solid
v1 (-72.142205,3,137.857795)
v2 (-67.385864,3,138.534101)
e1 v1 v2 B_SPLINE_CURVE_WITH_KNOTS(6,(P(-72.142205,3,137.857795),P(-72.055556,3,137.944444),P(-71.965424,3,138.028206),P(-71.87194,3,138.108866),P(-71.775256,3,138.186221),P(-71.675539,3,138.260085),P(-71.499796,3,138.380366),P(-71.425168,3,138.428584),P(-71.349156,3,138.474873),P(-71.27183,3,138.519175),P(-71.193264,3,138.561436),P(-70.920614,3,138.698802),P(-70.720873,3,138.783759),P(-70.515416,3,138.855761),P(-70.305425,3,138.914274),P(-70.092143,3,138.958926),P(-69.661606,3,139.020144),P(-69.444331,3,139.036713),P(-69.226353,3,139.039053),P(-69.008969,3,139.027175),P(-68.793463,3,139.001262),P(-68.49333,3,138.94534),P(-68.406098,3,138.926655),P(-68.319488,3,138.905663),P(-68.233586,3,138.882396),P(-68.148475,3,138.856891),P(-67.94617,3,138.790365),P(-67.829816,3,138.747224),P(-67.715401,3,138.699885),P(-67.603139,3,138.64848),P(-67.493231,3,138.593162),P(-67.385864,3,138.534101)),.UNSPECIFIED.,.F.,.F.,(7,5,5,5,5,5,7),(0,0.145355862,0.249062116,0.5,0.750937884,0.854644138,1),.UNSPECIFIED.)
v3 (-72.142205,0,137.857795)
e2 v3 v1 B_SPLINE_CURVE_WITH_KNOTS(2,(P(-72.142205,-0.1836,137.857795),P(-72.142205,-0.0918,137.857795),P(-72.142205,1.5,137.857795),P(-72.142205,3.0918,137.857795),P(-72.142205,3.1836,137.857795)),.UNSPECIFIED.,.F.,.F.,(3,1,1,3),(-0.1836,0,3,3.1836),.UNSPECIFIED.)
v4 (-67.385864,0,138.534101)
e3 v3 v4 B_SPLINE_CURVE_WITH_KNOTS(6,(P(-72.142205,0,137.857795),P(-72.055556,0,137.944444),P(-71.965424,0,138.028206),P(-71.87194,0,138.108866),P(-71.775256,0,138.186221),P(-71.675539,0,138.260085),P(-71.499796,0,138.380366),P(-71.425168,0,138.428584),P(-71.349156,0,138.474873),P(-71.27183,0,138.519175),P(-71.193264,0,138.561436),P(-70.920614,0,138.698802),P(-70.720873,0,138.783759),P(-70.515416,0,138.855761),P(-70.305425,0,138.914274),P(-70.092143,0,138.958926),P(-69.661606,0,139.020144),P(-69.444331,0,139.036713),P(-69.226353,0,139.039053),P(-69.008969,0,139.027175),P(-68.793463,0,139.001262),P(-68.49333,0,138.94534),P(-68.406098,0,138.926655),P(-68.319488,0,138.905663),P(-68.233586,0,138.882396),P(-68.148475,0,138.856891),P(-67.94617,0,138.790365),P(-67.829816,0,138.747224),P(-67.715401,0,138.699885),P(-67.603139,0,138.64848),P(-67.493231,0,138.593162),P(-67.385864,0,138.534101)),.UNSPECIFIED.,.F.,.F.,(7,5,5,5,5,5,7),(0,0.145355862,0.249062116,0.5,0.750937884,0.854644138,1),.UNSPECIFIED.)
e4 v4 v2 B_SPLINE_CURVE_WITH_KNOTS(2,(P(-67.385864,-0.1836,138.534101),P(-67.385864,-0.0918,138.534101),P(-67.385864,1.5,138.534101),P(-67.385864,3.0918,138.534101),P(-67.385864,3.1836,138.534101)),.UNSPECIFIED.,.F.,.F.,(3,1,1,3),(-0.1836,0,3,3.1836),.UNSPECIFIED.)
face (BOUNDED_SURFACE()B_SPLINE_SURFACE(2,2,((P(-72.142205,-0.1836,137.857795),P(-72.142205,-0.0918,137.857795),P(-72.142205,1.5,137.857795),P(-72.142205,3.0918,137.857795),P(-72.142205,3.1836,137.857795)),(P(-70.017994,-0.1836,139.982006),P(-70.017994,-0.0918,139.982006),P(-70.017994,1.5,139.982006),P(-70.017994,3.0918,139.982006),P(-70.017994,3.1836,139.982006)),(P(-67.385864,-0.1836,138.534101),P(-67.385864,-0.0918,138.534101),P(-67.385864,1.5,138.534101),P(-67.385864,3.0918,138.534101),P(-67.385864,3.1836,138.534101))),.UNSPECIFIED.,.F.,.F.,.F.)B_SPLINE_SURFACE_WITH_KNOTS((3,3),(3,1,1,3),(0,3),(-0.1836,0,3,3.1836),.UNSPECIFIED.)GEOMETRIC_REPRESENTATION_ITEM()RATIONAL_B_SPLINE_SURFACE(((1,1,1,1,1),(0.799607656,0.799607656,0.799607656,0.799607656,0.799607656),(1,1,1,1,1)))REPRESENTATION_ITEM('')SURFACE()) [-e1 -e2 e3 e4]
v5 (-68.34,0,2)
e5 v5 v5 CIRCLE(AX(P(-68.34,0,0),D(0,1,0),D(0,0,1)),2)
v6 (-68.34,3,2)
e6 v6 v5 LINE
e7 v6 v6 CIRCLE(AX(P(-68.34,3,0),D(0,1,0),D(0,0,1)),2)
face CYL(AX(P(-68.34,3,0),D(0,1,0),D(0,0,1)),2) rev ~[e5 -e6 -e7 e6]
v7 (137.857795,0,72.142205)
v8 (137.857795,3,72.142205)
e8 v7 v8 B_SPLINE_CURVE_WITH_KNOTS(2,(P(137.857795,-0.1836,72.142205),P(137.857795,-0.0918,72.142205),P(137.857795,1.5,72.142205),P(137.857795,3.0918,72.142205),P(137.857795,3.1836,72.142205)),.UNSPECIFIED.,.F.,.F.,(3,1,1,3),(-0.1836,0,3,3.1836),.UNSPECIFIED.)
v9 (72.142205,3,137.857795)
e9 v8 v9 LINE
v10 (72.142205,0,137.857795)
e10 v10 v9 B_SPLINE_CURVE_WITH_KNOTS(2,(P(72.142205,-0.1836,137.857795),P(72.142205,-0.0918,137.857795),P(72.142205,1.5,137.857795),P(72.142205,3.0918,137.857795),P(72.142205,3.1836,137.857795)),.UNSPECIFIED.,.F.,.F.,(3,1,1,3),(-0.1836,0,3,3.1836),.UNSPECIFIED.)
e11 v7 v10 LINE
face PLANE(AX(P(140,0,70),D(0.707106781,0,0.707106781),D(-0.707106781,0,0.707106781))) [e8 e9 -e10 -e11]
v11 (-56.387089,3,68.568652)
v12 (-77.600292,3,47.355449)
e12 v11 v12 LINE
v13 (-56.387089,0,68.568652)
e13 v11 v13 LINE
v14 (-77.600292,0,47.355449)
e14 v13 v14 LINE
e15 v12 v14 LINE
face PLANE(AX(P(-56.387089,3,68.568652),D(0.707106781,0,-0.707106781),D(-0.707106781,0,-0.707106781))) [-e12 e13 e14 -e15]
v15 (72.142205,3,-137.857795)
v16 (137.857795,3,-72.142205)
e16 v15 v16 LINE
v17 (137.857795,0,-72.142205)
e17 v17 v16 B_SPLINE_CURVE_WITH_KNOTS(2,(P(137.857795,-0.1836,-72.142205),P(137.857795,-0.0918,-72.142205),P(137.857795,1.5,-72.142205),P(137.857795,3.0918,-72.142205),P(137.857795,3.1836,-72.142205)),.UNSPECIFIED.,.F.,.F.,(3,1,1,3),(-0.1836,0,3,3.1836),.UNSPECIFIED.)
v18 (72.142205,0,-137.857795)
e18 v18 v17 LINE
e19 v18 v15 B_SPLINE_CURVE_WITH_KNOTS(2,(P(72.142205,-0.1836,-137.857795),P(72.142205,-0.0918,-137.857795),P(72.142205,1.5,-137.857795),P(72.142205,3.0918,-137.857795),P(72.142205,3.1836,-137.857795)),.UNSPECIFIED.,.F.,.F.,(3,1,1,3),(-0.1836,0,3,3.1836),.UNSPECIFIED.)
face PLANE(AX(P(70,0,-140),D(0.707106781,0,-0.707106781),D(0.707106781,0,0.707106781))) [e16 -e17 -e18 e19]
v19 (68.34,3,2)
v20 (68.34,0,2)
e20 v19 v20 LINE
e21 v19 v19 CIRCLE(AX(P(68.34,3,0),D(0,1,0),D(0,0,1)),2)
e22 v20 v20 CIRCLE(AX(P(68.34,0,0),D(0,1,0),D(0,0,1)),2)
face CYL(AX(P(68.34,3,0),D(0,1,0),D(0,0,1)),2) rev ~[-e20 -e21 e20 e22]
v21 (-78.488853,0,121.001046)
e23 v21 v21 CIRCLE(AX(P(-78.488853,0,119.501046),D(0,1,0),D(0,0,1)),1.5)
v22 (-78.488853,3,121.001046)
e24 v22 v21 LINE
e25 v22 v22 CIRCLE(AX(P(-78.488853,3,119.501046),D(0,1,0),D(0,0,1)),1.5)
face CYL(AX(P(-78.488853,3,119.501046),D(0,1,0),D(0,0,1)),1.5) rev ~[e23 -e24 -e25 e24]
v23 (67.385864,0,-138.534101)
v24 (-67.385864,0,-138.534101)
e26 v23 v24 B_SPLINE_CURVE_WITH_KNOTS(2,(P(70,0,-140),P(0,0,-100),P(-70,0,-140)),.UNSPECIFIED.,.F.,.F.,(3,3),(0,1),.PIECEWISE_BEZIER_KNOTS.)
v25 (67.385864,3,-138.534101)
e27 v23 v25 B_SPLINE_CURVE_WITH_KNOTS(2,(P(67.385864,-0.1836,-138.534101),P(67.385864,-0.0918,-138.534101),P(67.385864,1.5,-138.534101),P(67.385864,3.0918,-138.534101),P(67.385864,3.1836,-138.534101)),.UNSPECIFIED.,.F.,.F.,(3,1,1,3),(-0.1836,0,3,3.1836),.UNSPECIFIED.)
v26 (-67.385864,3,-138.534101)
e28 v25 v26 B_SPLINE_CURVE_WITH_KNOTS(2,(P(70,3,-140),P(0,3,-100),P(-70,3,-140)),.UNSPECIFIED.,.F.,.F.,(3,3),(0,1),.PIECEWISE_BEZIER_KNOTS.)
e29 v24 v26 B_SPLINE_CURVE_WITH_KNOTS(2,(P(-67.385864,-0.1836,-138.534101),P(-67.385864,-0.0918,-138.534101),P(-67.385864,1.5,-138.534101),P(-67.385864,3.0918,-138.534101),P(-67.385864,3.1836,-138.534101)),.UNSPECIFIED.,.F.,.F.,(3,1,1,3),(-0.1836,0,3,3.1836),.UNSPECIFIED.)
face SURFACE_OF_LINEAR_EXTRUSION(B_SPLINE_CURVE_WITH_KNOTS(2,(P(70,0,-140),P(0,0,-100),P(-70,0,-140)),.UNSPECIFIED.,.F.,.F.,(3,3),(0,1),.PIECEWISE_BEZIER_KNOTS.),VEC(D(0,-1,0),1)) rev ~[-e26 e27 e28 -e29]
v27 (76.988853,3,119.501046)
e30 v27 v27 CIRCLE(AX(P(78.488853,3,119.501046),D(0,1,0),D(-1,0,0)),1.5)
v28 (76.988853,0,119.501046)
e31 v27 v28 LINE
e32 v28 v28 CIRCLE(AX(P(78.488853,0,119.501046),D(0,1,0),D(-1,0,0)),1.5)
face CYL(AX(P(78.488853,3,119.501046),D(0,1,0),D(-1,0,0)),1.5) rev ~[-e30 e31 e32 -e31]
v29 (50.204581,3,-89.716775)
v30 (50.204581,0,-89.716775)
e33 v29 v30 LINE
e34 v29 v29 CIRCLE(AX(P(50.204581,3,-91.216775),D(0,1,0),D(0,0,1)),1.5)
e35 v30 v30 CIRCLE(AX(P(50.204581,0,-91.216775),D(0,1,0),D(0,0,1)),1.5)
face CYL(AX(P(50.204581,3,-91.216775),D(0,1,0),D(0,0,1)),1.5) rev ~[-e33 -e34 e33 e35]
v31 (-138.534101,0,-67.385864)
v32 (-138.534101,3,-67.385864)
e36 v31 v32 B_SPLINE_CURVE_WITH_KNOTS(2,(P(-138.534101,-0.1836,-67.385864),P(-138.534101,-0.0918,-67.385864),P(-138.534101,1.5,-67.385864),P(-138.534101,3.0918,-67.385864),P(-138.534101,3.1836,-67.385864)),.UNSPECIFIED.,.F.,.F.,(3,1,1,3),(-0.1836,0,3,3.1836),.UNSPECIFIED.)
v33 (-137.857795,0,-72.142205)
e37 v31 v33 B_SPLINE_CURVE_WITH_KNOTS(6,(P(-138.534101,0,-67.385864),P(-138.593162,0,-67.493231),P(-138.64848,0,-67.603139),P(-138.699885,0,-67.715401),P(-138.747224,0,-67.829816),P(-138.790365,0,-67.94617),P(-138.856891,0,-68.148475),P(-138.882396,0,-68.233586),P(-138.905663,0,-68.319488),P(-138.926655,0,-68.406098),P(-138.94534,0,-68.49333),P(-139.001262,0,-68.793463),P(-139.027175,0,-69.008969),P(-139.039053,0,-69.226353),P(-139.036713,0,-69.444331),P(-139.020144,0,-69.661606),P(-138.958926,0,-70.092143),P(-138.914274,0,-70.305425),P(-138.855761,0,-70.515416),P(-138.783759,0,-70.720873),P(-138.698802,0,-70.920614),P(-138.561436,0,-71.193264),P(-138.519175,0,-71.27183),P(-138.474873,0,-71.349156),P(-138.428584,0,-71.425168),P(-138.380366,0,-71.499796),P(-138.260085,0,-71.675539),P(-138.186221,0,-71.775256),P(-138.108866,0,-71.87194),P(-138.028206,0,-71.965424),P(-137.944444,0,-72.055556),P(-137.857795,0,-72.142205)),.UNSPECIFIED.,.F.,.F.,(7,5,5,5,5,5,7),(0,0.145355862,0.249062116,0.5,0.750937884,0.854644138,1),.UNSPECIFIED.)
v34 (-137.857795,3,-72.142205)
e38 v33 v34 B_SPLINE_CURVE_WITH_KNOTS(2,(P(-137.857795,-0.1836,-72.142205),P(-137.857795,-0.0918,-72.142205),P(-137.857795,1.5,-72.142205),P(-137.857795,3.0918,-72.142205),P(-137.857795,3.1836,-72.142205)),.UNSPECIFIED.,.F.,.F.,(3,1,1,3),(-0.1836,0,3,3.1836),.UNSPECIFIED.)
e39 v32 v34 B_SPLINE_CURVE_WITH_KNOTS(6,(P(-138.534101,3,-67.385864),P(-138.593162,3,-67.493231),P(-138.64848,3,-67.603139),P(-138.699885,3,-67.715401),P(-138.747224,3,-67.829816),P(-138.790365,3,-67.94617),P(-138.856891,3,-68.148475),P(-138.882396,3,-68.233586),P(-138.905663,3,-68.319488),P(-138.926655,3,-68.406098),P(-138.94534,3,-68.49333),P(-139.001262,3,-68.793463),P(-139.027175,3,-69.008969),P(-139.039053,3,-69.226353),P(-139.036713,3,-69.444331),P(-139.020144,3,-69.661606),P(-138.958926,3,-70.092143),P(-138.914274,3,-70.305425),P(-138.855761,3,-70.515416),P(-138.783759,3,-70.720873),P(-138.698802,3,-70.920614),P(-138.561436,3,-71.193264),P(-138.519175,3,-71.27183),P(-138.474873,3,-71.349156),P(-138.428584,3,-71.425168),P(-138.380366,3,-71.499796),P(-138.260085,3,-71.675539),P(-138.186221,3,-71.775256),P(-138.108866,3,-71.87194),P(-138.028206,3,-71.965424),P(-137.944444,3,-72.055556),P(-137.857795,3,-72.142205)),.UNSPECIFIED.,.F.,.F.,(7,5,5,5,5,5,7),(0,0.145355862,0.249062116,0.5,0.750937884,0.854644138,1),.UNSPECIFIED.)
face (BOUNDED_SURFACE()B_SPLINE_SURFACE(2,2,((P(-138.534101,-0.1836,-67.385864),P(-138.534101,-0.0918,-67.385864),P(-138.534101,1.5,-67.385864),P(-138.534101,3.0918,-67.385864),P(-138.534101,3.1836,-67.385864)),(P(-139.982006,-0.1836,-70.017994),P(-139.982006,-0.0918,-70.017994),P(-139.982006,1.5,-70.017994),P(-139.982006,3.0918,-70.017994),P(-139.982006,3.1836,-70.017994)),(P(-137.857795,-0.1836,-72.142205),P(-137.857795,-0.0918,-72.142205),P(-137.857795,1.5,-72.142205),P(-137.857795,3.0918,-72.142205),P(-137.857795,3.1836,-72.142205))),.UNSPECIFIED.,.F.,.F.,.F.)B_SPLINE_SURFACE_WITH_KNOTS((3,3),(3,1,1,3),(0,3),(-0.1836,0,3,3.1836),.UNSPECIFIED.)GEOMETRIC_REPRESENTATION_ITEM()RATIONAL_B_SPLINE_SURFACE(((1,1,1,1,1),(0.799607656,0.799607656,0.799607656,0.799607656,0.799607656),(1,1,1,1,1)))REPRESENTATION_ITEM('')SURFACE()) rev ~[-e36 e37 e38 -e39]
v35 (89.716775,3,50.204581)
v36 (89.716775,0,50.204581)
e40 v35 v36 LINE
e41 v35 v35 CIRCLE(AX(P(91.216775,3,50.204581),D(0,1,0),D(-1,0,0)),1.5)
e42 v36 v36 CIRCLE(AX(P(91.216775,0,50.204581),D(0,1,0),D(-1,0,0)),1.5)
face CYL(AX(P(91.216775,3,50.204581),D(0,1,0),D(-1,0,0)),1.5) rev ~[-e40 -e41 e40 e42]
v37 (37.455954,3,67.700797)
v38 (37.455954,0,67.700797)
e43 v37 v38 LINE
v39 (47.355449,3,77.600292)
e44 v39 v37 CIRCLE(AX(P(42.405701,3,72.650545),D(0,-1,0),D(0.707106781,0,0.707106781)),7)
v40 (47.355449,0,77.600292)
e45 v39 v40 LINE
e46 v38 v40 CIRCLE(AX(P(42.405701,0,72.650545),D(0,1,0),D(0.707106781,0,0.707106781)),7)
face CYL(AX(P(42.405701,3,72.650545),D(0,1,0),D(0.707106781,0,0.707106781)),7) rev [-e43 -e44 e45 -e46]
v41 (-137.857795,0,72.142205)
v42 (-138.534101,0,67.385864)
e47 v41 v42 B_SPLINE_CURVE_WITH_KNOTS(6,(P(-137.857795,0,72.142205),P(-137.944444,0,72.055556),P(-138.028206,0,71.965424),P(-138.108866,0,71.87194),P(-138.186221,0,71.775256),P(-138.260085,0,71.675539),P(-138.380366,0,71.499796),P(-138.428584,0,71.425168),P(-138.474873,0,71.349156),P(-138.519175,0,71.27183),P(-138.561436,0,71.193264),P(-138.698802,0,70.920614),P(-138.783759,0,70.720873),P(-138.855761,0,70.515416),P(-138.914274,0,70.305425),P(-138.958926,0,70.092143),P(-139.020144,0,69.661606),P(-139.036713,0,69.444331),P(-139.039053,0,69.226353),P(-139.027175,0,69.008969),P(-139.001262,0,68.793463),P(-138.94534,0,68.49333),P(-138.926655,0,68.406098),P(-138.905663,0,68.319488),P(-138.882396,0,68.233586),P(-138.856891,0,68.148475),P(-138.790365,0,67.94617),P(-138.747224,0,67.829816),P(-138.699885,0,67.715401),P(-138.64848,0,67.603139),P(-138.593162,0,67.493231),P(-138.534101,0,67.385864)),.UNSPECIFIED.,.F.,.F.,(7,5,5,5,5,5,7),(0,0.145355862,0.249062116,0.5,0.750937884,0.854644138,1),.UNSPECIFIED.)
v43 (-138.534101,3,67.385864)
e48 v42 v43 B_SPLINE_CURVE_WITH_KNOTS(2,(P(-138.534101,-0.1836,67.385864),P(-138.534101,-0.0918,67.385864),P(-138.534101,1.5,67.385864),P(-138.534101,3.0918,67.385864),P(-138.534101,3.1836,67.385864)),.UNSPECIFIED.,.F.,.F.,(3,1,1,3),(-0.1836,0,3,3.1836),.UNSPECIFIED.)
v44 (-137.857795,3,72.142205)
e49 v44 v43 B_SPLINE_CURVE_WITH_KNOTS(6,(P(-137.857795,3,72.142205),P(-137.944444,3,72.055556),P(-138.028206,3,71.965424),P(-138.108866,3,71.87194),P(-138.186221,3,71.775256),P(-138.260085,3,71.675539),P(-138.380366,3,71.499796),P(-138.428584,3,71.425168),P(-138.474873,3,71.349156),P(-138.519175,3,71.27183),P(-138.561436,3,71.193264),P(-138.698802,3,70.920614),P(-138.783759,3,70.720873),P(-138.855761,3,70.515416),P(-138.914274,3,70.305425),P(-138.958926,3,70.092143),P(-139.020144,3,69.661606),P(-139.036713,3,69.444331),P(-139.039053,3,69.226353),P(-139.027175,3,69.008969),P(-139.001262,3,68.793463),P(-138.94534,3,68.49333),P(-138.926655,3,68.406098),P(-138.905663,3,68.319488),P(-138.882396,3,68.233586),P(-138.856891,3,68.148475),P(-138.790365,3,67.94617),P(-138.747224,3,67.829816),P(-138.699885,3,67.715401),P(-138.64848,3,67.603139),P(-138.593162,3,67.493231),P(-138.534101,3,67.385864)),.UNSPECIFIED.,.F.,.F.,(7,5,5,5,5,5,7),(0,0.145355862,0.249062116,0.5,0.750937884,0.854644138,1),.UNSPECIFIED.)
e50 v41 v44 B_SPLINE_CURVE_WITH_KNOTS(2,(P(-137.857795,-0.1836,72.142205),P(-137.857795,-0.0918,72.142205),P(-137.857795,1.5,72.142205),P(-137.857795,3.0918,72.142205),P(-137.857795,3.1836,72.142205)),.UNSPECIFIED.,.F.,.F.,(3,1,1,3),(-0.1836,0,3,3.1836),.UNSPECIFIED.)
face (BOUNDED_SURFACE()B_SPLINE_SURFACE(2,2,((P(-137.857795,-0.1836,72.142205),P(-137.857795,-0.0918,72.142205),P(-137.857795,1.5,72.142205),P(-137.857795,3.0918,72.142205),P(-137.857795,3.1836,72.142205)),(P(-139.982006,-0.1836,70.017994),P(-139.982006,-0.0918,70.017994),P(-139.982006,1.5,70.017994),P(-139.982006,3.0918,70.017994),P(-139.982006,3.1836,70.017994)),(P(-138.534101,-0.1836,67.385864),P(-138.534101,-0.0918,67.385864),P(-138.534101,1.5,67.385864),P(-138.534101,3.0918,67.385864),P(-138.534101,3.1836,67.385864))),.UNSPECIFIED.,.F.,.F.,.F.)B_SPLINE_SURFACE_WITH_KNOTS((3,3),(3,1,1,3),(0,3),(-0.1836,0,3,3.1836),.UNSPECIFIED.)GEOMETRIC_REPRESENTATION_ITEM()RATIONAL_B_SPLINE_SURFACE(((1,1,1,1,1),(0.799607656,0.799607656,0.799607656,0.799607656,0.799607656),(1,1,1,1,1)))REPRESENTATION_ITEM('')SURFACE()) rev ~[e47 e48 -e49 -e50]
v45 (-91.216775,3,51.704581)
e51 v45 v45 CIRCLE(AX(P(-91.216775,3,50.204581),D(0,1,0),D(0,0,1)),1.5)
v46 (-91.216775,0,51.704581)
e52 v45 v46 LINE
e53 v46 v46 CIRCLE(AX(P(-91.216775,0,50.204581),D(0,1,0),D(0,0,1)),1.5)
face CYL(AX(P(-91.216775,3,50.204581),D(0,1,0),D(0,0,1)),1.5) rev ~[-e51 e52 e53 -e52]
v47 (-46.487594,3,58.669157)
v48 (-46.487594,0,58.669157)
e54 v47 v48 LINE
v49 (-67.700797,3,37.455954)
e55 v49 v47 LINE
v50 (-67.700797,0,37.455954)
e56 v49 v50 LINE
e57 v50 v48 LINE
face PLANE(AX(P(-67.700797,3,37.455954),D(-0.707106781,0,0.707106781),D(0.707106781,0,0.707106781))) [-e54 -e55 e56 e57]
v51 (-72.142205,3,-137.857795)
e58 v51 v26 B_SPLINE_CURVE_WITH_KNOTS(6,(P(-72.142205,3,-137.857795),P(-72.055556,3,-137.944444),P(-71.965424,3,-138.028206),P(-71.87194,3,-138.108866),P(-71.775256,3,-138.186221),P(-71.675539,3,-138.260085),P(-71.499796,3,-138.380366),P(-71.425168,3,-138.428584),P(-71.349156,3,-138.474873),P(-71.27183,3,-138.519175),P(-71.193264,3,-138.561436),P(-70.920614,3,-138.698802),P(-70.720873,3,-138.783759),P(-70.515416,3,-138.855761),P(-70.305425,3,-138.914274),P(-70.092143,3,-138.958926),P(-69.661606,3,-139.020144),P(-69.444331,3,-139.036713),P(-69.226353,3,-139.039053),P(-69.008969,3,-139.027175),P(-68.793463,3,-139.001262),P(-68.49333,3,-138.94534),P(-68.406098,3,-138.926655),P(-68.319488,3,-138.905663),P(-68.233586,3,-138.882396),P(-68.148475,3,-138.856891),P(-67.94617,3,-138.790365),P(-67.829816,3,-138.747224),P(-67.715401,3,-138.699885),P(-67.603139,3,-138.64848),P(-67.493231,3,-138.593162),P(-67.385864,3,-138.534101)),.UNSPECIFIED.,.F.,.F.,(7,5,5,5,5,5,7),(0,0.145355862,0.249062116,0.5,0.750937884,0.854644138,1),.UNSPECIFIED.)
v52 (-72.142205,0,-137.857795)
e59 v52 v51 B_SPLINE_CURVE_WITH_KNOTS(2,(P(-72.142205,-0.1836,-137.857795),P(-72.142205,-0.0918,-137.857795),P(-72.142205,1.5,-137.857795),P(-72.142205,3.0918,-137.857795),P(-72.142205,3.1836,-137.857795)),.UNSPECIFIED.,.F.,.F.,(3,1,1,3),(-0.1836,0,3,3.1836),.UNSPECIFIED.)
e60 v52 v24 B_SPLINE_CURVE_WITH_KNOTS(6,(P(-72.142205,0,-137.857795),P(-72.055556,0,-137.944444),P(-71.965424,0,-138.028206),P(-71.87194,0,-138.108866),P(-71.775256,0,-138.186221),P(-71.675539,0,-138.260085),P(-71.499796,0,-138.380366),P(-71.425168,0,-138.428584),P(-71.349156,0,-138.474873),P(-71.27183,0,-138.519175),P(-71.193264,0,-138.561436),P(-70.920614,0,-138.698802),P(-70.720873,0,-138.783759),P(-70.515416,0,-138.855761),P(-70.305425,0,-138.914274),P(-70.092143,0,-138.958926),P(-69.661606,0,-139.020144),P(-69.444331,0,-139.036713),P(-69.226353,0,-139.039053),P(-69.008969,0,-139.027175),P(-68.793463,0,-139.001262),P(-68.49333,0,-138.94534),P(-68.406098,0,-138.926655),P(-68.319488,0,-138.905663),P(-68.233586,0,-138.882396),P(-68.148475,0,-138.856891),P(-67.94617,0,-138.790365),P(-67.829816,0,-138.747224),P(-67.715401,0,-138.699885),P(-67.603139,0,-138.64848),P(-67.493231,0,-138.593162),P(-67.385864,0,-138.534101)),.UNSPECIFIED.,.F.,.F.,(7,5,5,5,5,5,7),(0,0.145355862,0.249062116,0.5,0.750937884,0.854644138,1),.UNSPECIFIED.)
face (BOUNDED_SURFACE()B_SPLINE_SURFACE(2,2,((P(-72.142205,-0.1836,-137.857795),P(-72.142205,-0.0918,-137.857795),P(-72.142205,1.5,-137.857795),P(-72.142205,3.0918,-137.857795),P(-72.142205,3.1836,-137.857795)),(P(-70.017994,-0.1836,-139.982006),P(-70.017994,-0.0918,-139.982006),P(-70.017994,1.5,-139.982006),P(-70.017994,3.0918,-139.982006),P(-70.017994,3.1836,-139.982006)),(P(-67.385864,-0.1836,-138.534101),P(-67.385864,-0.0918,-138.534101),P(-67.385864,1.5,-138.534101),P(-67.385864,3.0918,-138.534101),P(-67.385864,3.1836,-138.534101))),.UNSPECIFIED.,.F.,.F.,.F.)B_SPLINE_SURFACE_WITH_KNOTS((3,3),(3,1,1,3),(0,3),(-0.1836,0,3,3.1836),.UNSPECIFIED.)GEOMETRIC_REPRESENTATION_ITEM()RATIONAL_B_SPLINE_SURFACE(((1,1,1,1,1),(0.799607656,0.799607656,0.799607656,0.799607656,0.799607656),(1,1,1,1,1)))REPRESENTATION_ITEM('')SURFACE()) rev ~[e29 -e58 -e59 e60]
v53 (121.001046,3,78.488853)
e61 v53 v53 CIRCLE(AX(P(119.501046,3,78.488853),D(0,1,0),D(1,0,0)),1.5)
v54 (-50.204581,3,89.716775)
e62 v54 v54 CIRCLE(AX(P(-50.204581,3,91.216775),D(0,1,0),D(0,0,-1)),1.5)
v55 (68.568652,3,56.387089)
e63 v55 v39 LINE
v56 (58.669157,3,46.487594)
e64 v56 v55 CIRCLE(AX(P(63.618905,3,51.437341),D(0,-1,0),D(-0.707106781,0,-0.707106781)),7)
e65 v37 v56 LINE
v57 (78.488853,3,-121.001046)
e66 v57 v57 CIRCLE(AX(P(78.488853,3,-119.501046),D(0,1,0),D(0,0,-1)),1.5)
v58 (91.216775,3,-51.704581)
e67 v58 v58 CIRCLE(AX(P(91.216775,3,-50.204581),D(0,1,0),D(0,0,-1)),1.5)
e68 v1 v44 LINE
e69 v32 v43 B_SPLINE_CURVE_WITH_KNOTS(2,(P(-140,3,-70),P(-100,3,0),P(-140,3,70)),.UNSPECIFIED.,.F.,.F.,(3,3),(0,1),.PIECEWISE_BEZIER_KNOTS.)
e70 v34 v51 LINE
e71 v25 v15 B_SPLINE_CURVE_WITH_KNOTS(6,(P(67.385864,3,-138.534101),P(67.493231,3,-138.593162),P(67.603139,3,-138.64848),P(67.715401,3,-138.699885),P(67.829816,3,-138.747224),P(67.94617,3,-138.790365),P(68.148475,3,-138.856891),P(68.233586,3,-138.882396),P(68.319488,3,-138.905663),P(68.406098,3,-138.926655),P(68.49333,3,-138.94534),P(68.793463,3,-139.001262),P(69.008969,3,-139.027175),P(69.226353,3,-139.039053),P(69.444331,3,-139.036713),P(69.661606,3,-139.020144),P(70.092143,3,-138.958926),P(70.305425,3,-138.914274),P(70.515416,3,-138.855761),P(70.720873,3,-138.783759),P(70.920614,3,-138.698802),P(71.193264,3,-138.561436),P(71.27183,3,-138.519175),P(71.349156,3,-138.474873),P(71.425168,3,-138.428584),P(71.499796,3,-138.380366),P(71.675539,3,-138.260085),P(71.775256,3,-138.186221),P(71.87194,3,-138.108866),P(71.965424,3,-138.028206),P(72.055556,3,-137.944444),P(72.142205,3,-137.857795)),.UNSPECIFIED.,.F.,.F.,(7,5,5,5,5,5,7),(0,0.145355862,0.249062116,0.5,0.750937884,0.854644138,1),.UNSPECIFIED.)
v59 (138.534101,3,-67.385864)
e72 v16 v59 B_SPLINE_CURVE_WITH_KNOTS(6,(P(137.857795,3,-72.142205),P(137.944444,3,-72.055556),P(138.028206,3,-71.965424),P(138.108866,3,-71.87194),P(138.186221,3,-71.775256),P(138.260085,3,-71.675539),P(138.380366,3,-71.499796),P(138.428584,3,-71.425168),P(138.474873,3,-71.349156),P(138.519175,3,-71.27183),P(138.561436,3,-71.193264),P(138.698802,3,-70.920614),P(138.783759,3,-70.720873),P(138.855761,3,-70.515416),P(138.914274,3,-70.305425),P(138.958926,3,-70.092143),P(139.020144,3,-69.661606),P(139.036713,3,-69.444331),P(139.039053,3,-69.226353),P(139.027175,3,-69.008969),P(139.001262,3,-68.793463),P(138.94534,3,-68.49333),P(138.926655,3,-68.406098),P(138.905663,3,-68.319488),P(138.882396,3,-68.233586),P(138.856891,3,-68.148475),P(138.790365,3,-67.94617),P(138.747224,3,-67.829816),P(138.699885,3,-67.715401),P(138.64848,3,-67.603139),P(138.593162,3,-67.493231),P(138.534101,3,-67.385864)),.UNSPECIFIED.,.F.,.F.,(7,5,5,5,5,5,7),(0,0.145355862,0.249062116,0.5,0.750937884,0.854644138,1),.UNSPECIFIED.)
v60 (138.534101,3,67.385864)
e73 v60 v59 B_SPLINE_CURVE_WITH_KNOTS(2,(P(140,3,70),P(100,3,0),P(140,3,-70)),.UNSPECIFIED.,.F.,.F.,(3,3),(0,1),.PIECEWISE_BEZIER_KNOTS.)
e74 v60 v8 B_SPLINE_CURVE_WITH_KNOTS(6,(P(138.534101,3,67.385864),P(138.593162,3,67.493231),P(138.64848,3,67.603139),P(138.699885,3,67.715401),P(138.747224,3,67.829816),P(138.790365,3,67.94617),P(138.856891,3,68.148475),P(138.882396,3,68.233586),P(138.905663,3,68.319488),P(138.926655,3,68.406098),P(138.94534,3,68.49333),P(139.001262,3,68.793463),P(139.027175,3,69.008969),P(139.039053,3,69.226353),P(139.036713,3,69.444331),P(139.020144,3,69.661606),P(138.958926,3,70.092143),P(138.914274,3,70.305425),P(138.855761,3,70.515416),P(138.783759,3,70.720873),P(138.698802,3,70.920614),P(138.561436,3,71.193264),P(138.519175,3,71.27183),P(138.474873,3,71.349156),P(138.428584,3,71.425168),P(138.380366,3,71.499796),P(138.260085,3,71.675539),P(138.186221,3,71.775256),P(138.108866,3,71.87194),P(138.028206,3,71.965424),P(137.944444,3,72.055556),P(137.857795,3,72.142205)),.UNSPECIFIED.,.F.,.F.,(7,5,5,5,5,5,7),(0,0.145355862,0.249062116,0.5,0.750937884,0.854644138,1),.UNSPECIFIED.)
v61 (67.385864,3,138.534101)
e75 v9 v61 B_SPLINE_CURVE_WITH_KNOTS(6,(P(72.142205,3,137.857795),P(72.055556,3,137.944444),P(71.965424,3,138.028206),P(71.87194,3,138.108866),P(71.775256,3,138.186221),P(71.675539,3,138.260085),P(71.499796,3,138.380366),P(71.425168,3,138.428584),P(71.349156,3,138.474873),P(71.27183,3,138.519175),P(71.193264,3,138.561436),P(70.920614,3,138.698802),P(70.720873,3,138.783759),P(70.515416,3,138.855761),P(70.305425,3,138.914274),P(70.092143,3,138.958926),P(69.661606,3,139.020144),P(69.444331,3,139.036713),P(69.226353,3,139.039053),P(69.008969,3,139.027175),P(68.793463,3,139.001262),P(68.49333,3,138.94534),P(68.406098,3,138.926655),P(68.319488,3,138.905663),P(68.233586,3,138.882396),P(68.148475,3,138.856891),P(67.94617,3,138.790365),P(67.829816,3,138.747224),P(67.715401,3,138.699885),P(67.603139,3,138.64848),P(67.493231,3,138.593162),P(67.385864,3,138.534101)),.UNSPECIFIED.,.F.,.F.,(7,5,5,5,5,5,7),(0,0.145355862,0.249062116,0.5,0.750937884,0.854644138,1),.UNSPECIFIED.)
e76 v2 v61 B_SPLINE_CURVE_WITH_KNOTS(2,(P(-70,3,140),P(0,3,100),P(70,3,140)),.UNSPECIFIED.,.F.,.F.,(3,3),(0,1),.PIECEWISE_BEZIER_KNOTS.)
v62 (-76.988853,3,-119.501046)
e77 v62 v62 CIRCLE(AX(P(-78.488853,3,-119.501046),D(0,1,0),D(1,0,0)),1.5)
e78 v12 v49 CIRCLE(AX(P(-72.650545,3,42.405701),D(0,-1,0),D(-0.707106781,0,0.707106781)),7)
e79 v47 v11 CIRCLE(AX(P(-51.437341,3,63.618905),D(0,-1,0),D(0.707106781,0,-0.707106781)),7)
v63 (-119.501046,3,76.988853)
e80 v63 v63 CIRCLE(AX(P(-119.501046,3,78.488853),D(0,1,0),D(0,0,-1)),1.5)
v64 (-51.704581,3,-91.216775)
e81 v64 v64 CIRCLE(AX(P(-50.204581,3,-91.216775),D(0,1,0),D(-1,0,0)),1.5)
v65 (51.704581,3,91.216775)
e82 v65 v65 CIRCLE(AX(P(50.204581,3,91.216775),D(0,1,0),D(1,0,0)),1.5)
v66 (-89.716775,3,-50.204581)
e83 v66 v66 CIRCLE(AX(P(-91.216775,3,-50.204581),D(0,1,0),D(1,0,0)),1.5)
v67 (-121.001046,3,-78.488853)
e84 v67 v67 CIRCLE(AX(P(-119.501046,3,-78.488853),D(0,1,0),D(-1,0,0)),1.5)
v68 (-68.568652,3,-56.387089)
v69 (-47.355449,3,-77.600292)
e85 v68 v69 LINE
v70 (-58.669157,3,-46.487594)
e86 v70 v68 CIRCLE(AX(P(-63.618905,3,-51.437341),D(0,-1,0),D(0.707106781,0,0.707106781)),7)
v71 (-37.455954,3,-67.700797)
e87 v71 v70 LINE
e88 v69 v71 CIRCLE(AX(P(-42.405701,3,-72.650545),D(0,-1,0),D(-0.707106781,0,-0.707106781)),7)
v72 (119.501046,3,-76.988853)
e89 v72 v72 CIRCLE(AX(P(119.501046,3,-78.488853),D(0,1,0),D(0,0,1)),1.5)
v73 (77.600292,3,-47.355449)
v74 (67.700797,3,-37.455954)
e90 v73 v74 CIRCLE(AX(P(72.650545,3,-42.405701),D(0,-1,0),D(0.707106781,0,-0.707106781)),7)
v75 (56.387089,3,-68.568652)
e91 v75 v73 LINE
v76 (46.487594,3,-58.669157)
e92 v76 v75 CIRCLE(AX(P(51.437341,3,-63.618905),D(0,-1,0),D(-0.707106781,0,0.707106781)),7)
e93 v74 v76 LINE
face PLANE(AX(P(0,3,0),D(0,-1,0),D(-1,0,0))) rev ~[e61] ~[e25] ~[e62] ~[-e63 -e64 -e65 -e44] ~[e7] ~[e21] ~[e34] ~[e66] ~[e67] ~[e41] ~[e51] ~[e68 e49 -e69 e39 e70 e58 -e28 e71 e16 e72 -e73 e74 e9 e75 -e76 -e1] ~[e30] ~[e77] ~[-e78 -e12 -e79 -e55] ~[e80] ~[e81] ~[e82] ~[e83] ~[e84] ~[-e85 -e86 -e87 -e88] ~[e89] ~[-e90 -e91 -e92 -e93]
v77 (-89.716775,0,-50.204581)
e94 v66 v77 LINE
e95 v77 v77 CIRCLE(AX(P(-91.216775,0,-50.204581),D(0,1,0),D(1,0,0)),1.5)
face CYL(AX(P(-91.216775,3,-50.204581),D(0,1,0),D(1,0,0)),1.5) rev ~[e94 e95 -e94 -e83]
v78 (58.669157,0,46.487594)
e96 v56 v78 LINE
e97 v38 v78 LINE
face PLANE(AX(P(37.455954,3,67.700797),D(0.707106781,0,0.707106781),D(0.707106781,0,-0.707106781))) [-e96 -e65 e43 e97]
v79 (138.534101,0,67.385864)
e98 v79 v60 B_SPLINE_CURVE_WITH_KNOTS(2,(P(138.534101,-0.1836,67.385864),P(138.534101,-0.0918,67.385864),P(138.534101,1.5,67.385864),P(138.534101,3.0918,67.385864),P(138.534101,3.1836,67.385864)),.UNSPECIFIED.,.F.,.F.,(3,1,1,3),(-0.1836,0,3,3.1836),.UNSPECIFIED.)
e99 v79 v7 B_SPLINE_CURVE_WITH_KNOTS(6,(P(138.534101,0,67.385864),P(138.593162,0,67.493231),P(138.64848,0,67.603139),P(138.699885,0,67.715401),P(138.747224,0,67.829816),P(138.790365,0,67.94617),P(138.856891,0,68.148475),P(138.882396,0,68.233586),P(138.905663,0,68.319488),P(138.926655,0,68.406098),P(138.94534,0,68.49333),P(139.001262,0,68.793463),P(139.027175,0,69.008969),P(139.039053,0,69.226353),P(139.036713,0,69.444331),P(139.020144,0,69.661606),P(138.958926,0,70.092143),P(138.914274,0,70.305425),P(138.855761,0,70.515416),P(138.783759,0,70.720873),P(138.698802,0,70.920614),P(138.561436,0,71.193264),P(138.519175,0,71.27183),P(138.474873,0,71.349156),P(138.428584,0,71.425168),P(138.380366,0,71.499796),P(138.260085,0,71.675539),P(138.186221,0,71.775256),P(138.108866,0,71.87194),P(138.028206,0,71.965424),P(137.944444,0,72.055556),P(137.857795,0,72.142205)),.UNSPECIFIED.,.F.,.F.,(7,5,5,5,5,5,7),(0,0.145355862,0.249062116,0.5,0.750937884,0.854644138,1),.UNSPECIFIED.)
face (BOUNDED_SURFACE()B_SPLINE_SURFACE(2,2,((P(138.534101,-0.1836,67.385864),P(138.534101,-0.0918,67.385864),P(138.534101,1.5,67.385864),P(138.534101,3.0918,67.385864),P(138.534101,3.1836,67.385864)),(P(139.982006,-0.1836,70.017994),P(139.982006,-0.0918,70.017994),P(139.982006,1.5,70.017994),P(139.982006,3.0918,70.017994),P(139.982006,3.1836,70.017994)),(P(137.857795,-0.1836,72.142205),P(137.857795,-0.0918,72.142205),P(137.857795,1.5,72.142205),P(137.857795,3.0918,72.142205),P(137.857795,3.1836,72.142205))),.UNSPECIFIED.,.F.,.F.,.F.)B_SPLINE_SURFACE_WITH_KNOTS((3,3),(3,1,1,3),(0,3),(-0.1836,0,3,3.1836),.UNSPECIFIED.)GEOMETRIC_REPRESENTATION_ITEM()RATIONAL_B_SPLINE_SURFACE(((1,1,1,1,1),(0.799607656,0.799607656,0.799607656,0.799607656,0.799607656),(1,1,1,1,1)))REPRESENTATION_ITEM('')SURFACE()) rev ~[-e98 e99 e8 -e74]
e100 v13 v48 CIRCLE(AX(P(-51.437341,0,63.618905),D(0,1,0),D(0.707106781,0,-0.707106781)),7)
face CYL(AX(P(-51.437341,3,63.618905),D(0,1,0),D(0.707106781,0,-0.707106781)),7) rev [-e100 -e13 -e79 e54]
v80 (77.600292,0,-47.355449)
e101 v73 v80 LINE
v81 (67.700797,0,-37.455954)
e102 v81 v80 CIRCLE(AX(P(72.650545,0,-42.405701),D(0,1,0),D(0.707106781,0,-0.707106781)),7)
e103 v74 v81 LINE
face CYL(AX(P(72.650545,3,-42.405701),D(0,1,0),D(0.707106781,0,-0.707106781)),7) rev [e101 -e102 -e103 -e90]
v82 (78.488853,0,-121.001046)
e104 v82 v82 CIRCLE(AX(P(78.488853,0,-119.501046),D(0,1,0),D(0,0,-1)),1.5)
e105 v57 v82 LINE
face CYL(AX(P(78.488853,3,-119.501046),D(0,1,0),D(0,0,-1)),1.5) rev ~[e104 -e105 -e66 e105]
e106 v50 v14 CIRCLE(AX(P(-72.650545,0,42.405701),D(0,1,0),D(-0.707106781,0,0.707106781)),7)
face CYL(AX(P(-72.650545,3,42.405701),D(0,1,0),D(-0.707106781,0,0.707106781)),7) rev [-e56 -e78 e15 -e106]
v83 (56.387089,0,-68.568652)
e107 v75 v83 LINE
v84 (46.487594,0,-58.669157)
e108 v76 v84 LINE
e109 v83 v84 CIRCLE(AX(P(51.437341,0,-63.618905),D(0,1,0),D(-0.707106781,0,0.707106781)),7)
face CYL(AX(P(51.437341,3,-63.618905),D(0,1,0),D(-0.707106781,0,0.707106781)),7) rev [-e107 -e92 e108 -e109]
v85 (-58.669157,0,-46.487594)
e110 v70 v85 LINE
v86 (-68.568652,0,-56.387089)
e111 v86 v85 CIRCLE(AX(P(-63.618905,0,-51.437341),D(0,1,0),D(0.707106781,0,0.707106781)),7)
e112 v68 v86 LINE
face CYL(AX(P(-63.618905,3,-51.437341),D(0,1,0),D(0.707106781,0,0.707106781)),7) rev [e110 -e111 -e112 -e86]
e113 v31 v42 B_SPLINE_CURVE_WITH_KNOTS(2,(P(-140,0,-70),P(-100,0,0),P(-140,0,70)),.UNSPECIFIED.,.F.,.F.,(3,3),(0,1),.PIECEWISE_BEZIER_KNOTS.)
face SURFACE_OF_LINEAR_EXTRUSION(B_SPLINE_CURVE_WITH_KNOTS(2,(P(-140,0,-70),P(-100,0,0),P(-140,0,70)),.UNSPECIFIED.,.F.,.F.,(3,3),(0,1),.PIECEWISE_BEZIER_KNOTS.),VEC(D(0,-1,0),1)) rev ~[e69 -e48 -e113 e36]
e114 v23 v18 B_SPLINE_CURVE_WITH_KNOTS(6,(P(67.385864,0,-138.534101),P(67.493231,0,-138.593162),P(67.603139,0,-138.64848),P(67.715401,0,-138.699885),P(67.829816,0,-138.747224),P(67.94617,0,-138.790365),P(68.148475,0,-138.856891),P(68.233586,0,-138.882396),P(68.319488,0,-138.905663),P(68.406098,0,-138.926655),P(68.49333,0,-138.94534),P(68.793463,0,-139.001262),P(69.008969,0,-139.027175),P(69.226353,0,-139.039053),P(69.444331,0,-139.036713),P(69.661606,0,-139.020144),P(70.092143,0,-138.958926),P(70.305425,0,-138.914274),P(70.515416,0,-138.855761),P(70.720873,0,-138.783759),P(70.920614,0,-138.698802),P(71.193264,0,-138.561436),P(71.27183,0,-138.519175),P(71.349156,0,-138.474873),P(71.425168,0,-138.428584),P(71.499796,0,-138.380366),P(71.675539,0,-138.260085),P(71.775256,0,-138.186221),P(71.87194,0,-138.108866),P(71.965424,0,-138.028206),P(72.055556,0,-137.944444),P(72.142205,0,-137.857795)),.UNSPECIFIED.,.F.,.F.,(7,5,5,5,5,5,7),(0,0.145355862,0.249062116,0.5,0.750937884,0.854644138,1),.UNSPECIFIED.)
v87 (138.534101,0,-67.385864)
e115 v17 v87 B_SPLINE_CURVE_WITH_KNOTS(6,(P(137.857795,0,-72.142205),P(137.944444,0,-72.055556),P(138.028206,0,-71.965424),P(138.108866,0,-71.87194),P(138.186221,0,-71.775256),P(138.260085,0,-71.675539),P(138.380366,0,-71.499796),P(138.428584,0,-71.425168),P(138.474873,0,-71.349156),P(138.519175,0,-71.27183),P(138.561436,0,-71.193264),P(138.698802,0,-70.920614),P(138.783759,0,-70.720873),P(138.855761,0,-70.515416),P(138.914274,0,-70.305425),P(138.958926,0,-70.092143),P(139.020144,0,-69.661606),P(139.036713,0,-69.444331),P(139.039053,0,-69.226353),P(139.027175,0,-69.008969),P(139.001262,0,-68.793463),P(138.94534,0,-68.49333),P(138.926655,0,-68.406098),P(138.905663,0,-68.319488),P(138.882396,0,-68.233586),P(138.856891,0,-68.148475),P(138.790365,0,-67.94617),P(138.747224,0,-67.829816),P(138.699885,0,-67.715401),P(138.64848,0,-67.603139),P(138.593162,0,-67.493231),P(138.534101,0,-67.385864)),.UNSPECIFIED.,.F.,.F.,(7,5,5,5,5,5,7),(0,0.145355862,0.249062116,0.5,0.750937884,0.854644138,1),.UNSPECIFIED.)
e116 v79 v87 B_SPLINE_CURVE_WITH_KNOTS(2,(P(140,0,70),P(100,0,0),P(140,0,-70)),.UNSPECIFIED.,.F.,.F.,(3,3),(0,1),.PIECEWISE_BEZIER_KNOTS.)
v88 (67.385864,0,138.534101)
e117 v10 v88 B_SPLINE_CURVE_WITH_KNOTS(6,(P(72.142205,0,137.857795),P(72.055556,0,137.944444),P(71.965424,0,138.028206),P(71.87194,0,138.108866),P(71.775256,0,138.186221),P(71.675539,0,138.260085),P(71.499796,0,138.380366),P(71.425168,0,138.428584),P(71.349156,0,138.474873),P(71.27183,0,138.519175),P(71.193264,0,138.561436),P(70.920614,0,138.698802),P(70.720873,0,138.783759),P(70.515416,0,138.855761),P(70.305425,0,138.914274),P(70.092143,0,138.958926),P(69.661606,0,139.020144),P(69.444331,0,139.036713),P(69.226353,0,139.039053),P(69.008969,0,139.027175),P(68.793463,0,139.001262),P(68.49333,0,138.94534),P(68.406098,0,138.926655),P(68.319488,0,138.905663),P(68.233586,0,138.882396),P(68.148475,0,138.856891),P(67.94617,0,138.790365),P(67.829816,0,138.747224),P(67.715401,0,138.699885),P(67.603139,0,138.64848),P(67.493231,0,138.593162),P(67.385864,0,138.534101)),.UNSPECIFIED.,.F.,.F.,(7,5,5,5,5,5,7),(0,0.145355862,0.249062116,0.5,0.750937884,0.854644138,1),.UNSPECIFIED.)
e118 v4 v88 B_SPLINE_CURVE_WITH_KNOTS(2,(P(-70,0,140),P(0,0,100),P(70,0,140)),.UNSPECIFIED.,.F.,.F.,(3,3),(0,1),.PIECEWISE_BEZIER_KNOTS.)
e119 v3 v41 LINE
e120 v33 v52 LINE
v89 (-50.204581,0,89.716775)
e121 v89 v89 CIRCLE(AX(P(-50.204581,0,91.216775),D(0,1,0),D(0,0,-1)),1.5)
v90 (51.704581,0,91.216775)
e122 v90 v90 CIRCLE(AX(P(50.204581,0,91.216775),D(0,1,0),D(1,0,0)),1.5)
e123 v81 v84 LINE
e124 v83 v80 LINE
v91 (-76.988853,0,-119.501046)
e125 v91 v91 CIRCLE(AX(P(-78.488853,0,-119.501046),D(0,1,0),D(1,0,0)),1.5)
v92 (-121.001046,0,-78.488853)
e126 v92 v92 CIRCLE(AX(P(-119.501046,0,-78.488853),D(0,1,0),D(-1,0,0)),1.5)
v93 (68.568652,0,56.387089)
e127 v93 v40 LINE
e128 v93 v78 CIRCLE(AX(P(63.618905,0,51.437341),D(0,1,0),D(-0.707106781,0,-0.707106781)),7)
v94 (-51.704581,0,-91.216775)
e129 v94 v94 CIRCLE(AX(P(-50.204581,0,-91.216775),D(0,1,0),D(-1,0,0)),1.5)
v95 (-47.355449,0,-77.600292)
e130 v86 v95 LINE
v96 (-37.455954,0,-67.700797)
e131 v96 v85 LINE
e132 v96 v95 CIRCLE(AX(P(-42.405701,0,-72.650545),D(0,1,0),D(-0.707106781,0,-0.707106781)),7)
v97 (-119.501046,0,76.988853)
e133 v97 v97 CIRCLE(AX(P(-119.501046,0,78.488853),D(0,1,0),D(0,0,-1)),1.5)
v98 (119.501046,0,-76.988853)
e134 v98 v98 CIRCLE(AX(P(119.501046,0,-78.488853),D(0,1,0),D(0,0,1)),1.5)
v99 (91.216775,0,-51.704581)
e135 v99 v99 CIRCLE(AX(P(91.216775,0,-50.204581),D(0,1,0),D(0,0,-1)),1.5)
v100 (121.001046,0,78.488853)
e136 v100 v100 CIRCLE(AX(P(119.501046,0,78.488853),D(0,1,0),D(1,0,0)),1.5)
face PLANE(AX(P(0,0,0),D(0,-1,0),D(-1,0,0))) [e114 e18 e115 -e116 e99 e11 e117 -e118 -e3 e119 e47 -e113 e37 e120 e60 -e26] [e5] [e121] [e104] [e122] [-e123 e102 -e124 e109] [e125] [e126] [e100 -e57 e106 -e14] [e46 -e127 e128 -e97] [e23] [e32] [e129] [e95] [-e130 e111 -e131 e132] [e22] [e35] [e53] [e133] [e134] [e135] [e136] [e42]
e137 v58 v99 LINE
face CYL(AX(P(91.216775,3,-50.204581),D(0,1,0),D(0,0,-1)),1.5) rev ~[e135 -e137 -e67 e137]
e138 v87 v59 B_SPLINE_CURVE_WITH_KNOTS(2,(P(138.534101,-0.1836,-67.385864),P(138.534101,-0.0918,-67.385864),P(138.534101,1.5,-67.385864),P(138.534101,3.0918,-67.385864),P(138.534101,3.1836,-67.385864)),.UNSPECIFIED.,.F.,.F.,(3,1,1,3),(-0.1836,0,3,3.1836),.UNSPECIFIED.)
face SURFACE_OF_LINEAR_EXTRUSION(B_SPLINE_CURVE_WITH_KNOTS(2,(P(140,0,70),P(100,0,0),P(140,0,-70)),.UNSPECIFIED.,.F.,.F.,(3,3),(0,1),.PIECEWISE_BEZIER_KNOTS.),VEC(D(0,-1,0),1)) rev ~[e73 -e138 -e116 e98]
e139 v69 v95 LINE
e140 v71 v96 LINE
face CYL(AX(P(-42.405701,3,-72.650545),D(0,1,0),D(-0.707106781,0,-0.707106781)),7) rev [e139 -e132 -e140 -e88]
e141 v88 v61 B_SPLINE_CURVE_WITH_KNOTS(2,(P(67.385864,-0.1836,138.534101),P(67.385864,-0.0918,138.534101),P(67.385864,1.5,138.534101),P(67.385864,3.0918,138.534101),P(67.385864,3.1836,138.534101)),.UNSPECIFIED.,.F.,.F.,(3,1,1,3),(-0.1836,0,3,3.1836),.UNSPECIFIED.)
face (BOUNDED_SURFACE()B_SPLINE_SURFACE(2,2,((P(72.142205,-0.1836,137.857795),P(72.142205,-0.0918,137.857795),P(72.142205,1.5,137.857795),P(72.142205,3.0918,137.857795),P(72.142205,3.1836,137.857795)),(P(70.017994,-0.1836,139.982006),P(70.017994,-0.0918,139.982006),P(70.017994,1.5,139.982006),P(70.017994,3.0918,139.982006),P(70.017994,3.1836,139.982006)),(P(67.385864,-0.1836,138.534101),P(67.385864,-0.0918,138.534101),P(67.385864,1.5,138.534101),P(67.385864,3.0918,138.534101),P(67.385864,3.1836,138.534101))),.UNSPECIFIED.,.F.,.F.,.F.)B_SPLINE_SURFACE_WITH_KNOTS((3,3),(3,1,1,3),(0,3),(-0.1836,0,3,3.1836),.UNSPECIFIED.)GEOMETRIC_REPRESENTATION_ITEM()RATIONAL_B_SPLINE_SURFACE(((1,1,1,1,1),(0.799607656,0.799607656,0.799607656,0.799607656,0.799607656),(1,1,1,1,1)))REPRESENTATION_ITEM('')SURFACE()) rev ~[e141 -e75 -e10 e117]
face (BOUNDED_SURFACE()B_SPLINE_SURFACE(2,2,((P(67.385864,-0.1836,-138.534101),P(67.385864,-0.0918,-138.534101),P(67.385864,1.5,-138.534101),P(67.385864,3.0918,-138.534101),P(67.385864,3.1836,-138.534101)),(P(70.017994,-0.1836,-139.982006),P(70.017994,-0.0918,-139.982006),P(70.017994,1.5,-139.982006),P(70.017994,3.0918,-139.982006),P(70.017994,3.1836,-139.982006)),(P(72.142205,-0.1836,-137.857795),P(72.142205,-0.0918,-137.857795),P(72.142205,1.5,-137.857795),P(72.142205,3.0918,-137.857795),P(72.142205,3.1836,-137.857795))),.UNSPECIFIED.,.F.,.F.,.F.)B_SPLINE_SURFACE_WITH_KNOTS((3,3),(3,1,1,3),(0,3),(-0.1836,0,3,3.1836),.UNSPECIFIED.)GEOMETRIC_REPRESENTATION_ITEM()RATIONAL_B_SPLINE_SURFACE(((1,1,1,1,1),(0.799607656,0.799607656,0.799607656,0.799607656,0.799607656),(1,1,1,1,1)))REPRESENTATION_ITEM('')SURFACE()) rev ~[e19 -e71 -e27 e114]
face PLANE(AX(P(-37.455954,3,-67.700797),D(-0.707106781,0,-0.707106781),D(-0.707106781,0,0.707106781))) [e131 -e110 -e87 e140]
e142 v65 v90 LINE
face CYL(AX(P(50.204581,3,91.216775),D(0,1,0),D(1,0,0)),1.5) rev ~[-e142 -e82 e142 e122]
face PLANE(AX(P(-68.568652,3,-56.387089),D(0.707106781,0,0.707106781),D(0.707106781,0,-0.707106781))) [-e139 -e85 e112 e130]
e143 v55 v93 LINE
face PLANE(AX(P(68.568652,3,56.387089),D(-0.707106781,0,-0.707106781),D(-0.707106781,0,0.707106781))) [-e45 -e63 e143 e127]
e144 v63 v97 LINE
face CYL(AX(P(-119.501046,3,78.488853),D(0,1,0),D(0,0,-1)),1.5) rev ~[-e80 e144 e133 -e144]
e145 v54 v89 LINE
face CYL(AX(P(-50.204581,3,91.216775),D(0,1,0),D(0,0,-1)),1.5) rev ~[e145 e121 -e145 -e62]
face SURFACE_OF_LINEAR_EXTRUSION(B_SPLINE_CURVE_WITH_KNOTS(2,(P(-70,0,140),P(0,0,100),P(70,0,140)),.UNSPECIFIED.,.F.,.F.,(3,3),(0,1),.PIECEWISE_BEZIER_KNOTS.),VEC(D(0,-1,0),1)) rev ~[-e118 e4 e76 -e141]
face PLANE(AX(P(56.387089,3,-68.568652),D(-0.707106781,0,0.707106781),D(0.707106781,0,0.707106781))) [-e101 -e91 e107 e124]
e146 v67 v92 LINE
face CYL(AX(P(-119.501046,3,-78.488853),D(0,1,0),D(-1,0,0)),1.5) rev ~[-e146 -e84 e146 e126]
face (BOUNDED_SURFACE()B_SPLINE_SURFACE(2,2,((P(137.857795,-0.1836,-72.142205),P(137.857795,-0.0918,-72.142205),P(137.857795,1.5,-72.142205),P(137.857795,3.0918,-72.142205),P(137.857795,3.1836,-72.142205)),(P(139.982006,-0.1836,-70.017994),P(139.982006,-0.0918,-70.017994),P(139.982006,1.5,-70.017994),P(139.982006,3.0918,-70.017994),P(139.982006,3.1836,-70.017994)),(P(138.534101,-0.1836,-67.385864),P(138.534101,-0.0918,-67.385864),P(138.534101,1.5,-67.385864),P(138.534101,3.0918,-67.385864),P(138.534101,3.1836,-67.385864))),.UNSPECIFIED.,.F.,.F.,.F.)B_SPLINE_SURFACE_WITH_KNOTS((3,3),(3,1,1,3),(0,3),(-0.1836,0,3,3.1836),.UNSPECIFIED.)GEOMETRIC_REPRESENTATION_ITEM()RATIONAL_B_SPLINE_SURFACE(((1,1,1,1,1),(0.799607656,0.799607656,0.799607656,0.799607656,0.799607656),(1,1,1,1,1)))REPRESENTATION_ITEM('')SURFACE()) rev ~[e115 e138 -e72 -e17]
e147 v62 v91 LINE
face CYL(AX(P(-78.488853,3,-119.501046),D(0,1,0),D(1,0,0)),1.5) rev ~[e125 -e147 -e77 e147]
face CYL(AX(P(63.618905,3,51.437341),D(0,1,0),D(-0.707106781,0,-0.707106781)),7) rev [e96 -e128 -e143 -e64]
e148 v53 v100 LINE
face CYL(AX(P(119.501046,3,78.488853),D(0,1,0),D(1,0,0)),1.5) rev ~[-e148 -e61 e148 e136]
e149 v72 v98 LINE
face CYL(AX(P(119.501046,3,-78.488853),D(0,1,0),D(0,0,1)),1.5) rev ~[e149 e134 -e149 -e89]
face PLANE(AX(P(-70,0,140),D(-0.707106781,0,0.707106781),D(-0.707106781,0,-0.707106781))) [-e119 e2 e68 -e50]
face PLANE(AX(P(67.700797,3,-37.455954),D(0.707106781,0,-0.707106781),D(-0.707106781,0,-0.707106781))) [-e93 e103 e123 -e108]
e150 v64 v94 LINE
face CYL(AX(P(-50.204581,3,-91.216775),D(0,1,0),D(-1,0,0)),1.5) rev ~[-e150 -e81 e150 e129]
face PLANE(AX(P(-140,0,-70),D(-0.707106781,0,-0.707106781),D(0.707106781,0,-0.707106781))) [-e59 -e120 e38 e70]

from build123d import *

# Parameters (mm, degrees)
DODANIE_WYCI_GNI_CIE1_DEPTH = 3
ZAOKR_GLENIE1_R             = 4
SZKIC2_R                    = 1.5
WYTNIJ_WYCI_GNI_CIE1_DEPTH  = 197.640104054
SZYK_KO_OWY1_COUNT          = 4
WYTNIJ_WYCI_GNI_CIE2_REACH  = 198.64
SZYK_KO_OWY2_COUNT          = 4
WYTNIJ_WYCI_GNI_CIE3_REACH  = 198.64
SZKIC4_R                    = 2


with BuildPart() as part:
    # Szkic1 → Dodanie-wyciągnięcie1 (new body)
    with BuildSketch(Plane(origin=(0, 0, 0), x_dir=(1, 0, 0), z_dir=(0, 1, 0))):
        with BuildLine():
            Line((-70, -140), (-140, -70))
            add(Edge.make_bspline(
                [(-140, 70), (-100, 0), (-140, -70)],
                knots=[0, 0, 0, 1, 1, 1], degree=2))
            Line((-140, 70), (-70, 140))
            add(Edge.make_bspline(
                [(70, 140), (0, 100), (-70, 140)],
                knots=[0, 0, 0, 1, 1, 1], degree=2))
            Line((70, 140), (140, 70))
            add(Edge.make_bspline(
                [(140, -70), (100, 0), (140, 70)],
                knots=[0, 0, 0, 1, 1, 1], degree=2))
            Line((140, -70), (70, -140))
            add(Edge.make_bspline(
                [(-70, -140), (0, -100), (70, -140)],
                knots=[0, 0, 0, 1, 1, 1], degree=2))
        make_face()
    extrude(amount=DODANIE_WYCI_GNI_CIE1_DEPTH)

    # Zaokrąglenie1
    zaokr_glenie1_edges = [part.edges().sort_by_distance(p)[0] for p in [
        (-140, 1.5, -70),
        (-70, 1.5, -140),
        (70, 1.5, -140),
        (140, 1.5, -70),
        (140, 1.5, 70),
        (70, 1.5, 140),
        (-140, 1.5, 70),
        (-70, 1.5, 140),
    ]]
    fillet(zaokr_glenie1_edges, radius=ZAOKR_GLENIE1_R)

    # Szkic2 → Wytnij-wyciągnięcie1 (cut, through all)
    with BuildSketch(Plane(origin=(0, 3, 0), x_dir=(1, 0, 0), z_dir=(0, 1, 0))):
        with Locations((-78.488852712, -119.501046021)):
            Circle(SZKIC2_R)
        with Locations((-119.501046021, -78.488852712)):
            Circle(SZKIC2_R)
        with Locations((-50.204581464, -91.216774773)):
            Circle(SZKIC2_R)
        with Locations((-91.216774773, -50.204581464)):
            Circle(SZKIC2_R)
    wytnij_wyci_gni_cie1 = extrude(amount=-WYTNIJ_WYCI_GNI_CIE1_DEPTH, mode=Mode.SUBTRACT)

    # Szyk kołowy1: Wytnij-wyciągnięcie1 ×4 about axis
    szyk_ko_owy1_axis = Axis((0, -82.27937755, 0), (0, 1, 0))
    for i in range(1, SZYK_KO_OWY1_COUNT):
        add(wytnij_wyci_gni_cie1.rotate(szyk_ko_owy1_axis, i * 360 / SZYK_KO_OWY1_COUNT), mode=Mode.SUBTRACT)

    # Szkic3 → Wytnij-wyciągnięcie2 (cut, up to next)
    with BuildSketch(Plane(origin=(0, 3, 0), x_dir=(1, 0, 0), z_dir=(0, 1, 0)), mode=Mode.PRIVATE) as wytnij_wyci_gni_cie2_sk1:
        with BuildLine():
            Line((-47.355448856, 77.60029226), (-68.568652292, 56.387088824))
            ThreePointArc((-68.568652292, 56.387088824), (-68.568652292, 46.487593888), (-58.669157355, 46.487593888))
            Line((-58.669157355, 46.487593888), (-37.45595392, 67.700797323))
            ThreePointArc((-37.45595392, 67.700797323), (-37.45595392, 77.60029226), (-47.355448856, 77.60029226))
        make_face()
    wytnij_wyci_gni_cie2_tool1 = extrude(wytnij_wyci_gni_cie2_sk1.sketch, amount=-WYTNIJ_WYCI_GNI_CIE2_REACH, mode=Mode.PRIVATE) & part.part
    wytnij_wyci_gni_cie2 = wytnij_wyci_gni_cie2_tool1.solids().sort_by_distance((-53.012303, 3, -62.043943))[0]
    add(wytnij_wyci_gni_cie2, mode=Mode.SUBTRACT)

    # Szyk kołowy2: Wytnij-wyciągnięcie2 ×4 about axis
    szyk_ko_owy2_axis = Axis((0, -82.27937755, 0), (0, 1, 0))
    for i in range(1, SZYK_KO_OWY2_COUNT):
        add(wytnij_wyci_gni_cie2.rotate(szyk_ko_owy2_axis, i * 360 / SZYK_KO_OWY2_COUNT), mode=Mode.SUBTRACT)

    # Szkic4 → Wytnij-wyciągnięcie3 (cut, up to next)
    with BuildSketch(Plane(origin=(0, 3, 0), x_dir=(1, 0, 0), z_dir=(0, 1, 0)), mode=Mode.PRIVATE) as wytnij_wyci_gni_cie3_sk1:
        with Locations((-68.34, 0)):
            Circle(SZKIC4_R)
    wytnij_wyci_gni_cie3_tool1 = extrude(wytnij_wyci_gni_cie3_sk1.sketch, amount=-WYTNIJ_WYCI_GNI_CIE3_REACH, mode=Mode.PRIVATE) & part.part
    # Szkic4 → Wytnij-wyciągnięcie3 (cut, up to next)
    with BuildSketch(Plane(origin=(0, 3, 0), x_dir=(1, 0, 0), z_dir=(0, 1, 0)), mode=Mode.PRIVATE) as wytnij_wyci_gni_cie3_sk2:
        with Locations((68.34, 0)):
            Circle(SZKIC4_R)
    wytnij_wyci_gni_cie3_tool2 = extrude(wytnij_wyci_gni_cie3_sk2.sketch, amount=-WYTNIJ_WYCI_GNI_CIE3_REACH, mode=Mode.PRIVATE) & part.part
    add(wytnij_wyci_gni_cie3_tool1.solids().sort_by_distance((-68.34, 3, 0))[0], mode=Mode.SUBTRACT)
    add(wytnij_wyci_gni_cie3_tool2.solids().sort_by_distance((68.34, 3, 0))[0], mode=Mode.SUBTRACT)


solid = part.part
